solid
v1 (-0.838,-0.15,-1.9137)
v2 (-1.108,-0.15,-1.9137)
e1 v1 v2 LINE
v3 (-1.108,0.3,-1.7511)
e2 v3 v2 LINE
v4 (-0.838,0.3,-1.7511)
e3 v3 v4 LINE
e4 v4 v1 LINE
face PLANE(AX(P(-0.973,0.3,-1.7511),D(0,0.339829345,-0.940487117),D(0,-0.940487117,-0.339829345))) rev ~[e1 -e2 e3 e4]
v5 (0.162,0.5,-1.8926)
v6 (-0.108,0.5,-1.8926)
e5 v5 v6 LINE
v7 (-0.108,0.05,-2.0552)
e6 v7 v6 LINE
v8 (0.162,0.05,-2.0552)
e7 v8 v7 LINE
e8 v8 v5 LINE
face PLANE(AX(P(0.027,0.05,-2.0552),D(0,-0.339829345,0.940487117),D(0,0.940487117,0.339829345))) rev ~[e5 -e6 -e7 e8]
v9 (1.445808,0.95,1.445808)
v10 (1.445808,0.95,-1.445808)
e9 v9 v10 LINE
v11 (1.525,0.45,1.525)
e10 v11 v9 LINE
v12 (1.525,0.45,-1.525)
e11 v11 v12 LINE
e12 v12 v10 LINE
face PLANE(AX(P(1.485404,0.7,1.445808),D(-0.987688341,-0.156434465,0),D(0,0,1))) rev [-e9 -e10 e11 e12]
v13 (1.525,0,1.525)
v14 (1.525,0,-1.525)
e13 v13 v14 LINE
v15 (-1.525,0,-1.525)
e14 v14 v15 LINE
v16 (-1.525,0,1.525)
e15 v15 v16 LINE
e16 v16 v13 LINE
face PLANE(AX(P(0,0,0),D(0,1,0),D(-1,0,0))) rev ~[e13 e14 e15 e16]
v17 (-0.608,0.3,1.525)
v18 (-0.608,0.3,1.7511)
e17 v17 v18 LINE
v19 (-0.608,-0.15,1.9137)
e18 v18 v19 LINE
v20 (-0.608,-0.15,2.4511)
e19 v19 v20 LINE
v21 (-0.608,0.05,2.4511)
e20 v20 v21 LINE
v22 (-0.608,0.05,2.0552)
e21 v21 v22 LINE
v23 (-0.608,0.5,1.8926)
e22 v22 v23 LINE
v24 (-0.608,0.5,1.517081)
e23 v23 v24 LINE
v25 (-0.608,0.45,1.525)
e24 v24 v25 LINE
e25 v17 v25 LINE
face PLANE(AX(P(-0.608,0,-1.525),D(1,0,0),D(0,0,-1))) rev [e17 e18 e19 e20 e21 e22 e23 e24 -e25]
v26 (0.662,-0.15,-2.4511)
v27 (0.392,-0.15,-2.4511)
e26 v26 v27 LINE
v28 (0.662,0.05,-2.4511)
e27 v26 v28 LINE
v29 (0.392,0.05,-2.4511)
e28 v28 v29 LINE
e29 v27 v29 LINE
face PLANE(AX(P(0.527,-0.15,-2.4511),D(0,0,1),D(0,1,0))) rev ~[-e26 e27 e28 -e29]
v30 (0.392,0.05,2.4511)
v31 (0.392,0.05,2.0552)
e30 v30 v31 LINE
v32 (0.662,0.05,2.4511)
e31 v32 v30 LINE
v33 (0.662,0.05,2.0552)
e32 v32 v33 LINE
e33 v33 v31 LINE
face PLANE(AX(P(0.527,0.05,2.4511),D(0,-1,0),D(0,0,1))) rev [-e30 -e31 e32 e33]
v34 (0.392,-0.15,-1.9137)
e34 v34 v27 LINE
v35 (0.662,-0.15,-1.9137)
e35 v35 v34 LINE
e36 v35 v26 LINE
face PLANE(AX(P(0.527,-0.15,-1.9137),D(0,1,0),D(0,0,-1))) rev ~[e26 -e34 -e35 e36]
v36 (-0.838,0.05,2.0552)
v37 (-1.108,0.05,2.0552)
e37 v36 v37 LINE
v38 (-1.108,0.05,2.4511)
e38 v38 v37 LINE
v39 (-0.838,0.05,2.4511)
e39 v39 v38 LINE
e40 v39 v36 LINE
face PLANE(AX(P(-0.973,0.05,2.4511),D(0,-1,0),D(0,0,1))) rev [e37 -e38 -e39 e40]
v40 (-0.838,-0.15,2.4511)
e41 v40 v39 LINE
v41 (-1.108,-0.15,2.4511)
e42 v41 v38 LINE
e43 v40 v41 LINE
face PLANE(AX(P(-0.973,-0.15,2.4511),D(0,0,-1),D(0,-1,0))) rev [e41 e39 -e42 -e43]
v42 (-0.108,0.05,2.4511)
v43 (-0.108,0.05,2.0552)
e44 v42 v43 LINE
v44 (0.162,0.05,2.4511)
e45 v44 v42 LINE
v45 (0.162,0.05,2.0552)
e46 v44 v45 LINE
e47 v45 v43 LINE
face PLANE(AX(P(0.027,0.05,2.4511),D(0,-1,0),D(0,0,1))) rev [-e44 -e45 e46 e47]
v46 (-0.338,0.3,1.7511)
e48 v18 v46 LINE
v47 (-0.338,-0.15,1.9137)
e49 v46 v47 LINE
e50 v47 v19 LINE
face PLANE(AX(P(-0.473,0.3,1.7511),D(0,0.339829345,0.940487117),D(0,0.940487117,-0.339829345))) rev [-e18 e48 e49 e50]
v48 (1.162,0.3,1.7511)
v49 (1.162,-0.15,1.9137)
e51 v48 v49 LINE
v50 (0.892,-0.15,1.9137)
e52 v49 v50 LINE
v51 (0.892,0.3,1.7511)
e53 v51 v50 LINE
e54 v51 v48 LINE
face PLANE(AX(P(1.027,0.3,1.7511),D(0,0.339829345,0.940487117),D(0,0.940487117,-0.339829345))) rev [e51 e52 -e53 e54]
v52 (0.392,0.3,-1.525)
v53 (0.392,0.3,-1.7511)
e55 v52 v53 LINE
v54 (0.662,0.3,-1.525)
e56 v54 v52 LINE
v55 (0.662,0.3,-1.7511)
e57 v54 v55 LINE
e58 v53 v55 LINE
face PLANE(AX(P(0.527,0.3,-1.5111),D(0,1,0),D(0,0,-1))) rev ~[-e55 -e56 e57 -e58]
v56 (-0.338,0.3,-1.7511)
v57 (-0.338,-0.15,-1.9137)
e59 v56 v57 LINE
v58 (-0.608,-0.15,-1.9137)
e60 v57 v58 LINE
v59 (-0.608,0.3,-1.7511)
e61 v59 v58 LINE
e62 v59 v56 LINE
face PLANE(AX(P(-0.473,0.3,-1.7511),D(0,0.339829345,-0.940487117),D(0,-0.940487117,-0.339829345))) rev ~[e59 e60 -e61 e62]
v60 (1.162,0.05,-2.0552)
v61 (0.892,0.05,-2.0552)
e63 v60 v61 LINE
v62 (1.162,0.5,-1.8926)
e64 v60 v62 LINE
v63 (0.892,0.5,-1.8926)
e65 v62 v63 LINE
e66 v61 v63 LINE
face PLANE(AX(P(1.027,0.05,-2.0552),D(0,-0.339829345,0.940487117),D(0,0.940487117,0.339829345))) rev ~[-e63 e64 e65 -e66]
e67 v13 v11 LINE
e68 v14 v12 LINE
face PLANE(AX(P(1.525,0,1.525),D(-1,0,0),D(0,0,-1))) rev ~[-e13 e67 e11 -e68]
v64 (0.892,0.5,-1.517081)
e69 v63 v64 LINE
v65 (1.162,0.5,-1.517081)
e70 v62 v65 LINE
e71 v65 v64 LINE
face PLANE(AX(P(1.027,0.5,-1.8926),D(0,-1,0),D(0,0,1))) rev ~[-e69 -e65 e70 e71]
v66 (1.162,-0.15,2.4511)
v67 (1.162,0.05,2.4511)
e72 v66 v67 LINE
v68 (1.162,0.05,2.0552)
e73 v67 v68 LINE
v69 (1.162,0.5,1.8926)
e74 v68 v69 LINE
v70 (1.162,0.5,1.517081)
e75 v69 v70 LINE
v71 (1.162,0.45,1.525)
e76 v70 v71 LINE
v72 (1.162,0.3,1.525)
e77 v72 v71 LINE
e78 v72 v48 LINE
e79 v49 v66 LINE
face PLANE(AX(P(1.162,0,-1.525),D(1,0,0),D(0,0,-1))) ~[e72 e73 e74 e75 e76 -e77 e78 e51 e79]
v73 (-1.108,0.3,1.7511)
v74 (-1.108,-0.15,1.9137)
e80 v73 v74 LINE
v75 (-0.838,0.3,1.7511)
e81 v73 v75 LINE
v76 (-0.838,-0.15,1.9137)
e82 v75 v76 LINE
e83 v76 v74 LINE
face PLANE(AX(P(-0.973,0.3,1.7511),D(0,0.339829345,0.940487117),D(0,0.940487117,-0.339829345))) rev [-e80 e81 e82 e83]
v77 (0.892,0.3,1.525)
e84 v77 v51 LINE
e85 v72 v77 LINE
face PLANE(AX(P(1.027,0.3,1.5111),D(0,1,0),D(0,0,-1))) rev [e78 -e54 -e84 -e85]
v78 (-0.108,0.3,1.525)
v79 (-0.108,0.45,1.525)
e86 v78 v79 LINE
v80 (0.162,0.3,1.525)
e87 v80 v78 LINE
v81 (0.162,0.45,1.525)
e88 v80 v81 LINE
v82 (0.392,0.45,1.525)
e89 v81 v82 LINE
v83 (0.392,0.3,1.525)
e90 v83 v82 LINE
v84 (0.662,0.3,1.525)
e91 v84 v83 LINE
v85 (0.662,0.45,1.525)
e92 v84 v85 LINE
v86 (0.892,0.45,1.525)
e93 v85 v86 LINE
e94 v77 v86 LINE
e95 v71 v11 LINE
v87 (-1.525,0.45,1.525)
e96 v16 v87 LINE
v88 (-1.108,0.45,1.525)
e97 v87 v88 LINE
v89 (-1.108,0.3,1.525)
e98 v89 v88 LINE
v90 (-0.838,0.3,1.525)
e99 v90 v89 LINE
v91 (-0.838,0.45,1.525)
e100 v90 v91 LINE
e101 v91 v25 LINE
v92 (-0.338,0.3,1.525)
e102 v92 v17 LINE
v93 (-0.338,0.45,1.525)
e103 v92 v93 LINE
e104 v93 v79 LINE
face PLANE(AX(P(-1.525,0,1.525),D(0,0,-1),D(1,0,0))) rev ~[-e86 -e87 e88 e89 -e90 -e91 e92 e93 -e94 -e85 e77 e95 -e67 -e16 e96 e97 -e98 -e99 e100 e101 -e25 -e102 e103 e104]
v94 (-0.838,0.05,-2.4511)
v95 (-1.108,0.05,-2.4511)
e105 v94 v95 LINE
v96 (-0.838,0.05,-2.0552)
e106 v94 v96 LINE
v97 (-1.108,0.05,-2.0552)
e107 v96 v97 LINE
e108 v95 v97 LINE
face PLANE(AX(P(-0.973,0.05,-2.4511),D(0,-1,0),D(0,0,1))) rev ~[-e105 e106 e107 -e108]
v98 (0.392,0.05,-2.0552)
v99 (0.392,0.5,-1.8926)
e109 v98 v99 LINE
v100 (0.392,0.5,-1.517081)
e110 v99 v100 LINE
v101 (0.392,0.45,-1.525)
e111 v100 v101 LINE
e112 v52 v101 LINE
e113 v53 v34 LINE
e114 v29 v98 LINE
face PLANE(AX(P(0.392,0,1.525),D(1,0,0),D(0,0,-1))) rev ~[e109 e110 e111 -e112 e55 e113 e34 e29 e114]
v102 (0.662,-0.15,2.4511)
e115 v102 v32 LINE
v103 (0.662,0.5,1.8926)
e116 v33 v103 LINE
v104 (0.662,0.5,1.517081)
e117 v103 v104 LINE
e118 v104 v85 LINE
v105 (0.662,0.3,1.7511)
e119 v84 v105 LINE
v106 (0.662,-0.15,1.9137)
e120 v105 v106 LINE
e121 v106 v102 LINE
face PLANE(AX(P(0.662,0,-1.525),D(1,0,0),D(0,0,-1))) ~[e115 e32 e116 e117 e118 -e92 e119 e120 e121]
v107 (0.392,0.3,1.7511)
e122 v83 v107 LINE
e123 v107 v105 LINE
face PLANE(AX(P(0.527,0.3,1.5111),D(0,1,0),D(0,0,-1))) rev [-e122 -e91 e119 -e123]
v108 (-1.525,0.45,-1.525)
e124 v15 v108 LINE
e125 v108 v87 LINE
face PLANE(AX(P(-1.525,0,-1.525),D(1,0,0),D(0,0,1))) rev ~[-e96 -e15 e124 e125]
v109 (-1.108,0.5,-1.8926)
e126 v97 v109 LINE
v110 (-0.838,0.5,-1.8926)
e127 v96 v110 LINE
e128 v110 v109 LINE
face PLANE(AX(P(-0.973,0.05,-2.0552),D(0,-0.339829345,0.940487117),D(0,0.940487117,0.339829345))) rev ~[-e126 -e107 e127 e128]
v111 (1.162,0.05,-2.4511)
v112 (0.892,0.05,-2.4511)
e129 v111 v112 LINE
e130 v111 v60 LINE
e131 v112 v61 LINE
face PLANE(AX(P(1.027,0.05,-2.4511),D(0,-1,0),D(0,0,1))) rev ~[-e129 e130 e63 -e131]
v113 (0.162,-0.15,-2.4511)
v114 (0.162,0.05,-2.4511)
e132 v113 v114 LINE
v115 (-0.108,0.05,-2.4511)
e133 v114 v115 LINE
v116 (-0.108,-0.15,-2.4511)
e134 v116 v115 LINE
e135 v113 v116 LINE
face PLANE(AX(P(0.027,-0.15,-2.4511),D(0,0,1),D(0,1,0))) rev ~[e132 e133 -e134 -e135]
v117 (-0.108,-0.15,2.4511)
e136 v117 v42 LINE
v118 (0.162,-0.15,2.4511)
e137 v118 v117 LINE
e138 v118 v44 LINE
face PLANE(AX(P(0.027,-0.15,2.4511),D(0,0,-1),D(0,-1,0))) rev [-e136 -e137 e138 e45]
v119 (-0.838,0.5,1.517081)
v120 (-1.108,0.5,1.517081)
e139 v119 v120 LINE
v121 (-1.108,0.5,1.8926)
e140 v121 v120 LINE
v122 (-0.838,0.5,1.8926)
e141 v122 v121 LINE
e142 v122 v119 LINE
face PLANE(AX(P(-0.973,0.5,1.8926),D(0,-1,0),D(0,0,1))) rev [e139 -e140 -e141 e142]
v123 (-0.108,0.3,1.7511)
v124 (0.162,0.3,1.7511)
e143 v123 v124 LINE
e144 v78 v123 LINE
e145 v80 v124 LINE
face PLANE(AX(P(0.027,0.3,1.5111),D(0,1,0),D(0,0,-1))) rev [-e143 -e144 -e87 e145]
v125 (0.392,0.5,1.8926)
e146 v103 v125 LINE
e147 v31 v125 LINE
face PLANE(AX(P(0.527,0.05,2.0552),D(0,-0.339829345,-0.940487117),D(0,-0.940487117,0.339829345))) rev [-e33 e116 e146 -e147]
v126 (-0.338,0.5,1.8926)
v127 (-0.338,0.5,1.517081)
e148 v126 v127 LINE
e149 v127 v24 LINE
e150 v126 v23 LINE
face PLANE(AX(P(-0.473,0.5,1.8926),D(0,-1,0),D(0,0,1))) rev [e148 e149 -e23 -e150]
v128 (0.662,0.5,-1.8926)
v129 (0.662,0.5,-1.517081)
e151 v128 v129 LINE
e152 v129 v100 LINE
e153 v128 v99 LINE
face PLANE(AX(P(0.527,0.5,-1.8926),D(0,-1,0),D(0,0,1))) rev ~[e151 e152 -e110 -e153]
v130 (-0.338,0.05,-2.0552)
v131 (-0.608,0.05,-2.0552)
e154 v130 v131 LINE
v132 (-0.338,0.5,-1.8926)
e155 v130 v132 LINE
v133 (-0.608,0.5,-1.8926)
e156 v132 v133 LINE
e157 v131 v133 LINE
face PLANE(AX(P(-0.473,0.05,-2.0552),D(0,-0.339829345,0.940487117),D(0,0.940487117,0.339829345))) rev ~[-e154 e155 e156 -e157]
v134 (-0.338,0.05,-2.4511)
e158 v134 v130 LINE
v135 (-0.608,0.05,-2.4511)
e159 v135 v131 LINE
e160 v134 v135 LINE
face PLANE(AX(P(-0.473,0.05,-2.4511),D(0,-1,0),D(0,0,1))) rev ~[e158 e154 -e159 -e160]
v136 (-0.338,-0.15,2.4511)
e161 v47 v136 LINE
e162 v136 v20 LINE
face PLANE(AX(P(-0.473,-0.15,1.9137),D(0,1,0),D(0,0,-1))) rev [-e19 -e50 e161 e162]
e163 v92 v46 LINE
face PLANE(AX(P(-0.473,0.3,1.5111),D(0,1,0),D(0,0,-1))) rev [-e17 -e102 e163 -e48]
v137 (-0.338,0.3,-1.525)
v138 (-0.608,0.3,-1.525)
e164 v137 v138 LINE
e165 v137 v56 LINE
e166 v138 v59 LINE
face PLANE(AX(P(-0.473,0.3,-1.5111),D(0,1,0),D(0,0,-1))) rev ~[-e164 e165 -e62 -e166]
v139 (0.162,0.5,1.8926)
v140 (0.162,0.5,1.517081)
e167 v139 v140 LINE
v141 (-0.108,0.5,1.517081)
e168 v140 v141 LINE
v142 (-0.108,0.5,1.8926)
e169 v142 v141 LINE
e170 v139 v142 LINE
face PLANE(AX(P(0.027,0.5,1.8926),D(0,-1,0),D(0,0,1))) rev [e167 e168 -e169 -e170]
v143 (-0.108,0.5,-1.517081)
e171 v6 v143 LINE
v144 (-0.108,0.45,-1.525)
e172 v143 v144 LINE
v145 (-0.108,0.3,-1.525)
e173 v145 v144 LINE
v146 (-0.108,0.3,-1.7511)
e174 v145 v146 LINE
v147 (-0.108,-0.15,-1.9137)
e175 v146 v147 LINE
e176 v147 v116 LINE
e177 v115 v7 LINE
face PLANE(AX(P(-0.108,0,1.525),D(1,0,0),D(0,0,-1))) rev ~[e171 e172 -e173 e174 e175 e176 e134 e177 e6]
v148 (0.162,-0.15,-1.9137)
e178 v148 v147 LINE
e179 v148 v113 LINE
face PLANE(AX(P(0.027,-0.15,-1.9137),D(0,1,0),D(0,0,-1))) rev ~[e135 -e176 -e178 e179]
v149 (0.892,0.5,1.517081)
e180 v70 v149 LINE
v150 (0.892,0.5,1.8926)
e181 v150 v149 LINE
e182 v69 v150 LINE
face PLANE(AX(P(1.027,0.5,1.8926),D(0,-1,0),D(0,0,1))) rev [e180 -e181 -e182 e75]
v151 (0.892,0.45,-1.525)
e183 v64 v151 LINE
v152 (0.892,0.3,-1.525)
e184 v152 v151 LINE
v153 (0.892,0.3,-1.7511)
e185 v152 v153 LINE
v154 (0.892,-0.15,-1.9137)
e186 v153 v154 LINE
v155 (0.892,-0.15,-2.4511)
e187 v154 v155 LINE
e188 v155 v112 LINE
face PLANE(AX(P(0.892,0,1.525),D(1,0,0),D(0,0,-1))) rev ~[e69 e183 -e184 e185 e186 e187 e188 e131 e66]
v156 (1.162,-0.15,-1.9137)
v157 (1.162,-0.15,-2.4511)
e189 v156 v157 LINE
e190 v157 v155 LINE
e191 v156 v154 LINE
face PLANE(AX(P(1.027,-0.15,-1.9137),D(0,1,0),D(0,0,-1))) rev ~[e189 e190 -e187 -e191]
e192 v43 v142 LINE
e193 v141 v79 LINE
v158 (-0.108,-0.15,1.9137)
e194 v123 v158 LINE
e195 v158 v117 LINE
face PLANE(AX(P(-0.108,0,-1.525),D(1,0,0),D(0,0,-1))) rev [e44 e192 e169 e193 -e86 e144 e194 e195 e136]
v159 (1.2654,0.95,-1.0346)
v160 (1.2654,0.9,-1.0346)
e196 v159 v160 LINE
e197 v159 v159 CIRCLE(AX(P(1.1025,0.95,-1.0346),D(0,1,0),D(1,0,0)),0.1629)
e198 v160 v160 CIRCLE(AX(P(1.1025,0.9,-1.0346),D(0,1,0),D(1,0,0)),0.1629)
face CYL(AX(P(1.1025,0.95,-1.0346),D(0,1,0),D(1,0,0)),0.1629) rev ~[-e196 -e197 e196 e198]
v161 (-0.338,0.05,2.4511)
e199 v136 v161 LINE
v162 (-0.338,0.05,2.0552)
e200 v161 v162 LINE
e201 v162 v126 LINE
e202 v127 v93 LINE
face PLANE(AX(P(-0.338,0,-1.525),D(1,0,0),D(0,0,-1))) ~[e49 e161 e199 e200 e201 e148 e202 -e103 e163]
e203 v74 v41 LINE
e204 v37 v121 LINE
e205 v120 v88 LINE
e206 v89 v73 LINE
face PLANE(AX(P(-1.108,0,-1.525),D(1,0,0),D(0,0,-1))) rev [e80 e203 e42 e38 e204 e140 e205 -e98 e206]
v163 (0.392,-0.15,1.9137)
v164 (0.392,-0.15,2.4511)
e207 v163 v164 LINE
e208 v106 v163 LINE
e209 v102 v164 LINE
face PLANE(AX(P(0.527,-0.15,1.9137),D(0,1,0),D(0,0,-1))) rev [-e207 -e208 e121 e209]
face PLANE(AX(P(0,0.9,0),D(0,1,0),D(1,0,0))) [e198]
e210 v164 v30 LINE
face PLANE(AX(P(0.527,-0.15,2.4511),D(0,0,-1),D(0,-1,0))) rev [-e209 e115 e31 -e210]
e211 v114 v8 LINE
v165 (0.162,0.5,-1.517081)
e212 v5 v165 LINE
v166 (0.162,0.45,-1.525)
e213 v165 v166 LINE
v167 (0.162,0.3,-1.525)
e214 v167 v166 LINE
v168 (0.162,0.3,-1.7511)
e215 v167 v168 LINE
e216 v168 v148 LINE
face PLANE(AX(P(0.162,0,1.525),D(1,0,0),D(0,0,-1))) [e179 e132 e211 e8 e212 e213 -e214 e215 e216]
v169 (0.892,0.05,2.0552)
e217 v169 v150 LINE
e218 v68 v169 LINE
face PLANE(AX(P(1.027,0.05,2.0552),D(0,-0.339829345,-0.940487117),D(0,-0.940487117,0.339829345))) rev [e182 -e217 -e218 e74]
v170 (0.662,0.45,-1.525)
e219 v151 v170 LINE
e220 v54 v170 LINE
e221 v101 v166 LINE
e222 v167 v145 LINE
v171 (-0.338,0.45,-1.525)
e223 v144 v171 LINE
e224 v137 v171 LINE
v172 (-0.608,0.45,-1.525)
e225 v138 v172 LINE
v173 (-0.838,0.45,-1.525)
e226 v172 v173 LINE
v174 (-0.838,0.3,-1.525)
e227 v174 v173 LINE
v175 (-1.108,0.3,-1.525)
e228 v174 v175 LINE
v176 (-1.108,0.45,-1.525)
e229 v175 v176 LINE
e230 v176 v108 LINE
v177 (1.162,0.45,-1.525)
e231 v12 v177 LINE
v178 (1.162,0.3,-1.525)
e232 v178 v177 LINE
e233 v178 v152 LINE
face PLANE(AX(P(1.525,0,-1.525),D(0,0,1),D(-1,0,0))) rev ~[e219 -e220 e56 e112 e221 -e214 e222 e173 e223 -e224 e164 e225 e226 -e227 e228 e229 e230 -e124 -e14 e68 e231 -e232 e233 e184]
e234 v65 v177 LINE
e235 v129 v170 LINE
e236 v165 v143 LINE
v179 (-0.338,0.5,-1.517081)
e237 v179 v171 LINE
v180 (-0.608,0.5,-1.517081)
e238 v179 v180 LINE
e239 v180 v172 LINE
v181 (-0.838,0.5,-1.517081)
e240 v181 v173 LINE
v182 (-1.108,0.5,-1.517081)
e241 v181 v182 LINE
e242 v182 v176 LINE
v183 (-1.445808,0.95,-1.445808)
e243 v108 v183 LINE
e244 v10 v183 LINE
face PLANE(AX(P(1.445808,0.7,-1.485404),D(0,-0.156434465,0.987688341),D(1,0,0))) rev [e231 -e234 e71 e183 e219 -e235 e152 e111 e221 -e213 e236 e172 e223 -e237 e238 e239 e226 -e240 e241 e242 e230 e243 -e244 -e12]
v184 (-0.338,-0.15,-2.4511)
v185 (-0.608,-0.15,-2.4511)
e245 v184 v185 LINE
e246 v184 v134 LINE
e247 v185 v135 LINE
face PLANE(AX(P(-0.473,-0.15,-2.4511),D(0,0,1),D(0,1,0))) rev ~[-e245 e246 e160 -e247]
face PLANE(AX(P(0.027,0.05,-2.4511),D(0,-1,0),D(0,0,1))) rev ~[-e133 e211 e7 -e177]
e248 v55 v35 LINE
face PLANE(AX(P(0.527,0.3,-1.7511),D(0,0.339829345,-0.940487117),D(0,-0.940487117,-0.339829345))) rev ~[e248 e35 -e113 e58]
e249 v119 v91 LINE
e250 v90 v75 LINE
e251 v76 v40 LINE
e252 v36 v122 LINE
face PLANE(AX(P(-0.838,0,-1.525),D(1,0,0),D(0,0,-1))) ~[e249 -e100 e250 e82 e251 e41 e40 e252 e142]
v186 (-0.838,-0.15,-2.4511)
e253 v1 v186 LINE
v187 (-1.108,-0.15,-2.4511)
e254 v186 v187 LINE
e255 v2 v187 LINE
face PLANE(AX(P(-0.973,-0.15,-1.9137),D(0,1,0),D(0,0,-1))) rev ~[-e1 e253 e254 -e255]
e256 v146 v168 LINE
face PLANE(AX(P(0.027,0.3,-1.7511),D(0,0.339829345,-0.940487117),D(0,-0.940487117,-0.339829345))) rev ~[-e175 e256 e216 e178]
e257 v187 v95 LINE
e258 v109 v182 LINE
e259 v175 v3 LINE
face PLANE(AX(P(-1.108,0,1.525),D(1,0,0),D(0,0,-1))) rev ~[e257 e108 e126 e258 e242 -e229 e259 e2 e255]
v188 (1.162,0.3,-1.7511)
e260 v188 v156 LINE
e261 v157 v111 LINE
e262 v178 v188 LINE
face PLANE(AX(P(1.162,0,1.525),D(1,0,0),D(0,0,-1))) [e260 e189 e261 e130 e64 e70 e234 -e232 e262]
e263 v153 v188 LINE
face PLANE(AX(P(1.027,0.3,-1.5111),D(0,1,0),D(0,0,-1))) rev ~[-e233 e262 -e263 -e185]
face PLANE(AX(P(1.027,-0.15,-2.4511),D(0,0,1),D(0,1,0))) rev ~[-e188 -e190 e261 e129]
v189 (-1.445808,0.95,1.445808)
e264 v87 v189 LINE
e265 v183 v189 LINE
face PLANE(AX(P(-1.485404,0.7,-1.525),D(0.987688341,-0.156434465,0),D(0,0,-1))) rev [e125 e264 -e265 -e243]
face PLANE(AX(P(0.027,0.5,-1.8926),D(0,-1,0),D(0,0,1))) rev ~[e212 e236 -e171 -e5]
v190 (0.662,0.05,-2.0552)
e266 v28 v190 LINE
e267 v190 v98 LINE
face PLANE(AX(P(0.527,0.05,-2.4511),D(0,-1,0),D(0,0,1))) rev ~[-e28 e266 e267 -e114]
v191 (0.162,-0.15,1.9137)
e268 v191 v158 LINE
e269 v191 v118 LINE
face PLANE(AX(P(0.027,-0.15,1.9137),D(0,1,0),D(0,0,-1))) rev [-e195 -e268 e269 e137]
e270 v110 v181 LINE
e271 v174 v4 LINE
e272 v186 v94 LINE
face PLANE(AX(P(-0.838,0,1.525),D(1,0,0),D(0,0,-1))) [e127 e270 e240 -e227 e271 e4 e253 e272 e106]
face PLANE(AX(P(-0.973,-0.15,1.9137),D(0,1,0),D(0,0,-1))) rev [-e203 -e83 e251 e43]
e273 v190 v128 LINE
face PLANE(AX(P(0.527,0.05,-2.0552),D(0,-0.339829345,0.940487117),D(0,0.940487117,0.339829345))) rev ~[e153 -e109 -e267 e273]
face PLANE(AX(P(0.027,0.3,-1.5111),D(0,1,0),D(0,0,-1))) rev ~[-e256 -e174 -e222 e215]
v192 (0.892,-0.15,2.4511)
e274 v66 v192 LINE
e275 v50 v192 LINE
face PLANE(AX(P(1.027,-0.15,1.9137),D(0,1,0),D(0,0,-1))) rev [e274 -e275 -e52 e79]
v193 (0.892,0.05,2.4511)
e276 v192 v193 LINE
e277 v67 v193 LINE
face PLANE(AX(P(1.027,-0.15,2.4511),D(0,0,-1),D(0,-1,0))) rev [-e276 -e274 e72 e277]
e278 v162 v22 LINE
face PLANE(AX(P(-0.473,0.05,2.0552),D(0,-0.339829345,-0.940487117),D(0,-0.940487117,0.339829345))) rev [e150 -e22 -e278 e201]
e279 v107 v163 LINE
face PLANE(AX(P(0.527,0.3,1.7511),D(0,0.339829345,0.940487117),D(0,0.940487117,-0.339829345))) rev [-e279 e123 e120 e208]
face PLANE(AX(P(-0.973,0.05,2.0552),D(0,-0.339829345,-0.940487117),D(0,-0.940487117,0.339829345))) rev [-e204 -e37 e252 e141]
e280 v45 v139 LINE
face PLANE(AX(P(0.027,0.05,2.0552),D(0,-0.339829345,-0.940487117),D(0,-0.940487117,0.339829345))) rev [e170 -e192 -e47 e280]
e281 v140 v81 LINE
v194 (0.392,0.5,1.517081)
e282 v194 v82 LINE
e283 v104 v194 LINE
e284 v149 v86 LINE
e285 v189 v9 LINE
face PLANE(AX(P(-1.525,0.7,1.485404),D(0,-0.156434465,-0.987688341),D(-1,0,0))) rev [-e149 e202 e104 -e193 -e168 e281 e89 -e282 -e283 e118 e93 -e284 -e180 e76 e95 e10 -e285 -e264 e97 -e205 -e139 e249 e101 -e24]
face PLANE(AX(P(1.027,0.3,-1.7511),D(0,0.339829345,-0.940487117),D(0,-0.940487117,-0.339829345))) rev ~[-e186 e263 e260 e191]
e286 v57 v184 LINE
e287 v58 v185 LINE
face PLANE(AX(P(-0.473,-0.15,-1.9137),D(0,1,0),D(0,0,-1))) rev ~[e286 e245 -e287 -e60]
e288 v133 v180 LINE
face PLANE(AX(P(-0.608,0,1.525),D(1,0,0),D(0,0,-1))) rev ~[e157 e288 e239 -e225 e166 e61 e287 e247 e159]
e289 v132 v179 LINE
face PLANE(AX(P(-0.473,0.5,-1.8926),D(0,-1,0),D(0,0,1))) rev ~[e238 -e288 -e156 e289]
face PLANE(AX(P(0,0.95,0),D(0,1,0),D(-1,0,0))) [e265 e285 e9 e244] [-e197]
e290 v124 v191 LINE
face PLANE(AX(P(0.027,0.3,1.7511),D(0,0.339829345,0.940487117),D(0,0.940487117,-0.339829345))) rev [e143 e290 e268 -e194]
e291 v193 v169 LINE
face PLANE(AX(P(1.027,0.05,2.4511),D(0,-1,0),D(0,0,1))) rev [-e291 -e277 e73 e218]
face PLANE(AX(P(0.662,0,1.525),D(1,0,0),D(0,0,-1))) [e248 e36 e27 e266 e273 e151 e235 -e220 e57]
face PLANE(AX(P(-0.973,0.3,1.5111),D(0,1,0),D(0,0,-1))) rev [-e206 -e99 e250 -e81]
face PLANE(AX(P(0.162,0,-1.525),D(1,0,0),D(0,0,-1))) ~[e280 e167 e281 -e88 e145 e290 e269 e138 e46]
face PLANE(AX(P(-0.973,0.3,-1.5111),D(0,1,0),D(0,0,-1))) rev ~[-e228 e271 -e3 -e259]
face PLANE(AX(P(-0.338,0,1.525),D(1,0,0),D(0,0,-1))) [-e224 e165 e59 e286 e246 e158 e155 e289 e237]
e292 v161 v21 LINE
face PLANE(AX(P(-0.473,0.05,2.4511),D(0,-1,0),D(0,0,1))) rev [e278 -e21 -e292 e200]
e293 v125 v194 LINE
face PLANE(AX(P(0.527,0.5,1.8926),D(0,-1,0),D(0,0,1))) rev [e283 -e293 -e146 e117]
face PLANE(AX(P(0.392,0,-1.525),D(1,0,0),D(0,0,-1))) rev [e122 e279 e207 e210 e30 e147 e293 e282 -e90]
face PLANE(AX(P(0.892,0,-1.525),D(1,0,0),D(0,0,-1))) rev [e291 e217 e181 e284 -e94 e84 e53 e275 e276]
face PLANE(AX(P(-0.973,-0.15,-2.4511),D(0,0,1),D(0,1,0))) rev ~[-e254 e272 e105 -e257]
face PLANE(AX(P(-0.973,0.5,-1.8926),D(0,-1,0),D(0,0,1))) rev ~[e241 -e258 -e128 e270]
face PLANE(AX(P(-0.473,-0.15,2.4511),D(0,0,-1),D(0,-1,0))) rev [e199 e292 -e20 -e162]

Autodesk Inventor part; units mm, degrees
ref_plane "YZ Plane" through (0, 0, 0) normal (1, 0, 0) x (0, 1, 0)
ref_plane "XZ Plane" through (0, 0, 0) normal (0, 1, 0) x (-1, 0, 0)
sketch "Sketch1" plane through (0, 0, 0) normal (0, 1, 0) x (-1, 0, 0)
  line L0 (1.525, 1.525) -> (-1.525, 1.525)
  line L1 (-1.525, 1.525) -> (-1.525, -1.525)
  line L2 (-1.525, -1.525) -> (1.525, -1.525)
  line L3 (1.525, -1.525) -> (1.525, 1.525)
  point P0 (0, 0)
  dimension "d0" = 3.05
  dimension "d1" = 1.525
  dimension "d2" = 3.05
  dimension "d3" = 1.525
extrude "Extrusion1" add sketch "Sketch1" along normal blind 0.95
chamfer "Chamfer1" distance 0.5 angle 9 1 edges at (0, 0.95, 1.525) measured on face at (-0.5083, 0.3167, 1.525)
chamfer "Chamfer2" distance 0.5 angle 9 1 edges at (1.525, 0.95, -0.0396) measured on face at (1.525, 0.6333, -0.5347)
chamfer "Chamfer3" distance 0.5 angle 9 1 edges at (-1.525, 0.95, -0.0396) measured on face at (-1.525, 0.6333, -0.5347)
chamfer "Chamfer4" distance 0.5 angle 9 1 edges at (0, 0.95, -1.525) measured on face at (0.4819, 0.6167, -1.525)
ref_plane "Work Plane1" through (1.027, 0, 1.525) normal (1, 0, 0) x (0, 0, -1)
sketch "Sketch2" plane through (1.027, 0, 1.525) normal (1, 0, 0) x (0, 0, -1)
  line L0 (3.0361, 0.5) -> (3.0361, 0.3)
  line L1 (3.0361, 0.3) -> (3.2761, 0.3)
  line L2 (3.2761, 0.3) -> (3.4387, -0.15)
  line L3 (3.4387, -0.15) -> (3.9761, -0.15)
  line L4 (3.9761, -0.15) -> (3.9761, 0.05)
  line L5 (3.9761, 0.05) -> (3.5802, 0.05)
  line L6 (3.5802, 0.05) -> (3.4176, 0.5)
  line L7 (3.4176, 0.5) -> (3.0361, 0.5)
  line L8 (3.05, 0) -> (3.05, 0.45) projected
  line L9 (0, 0) -> (3.05, 0) projected
  point P0 (1.525, 0)
  dimension "d20" = 0.2
  dimension "d21" = 0.2
  dimension "d22" = 0.7
  dimension "d23" = 0.94
  dimension "d24" = 0.65
  dimension "d25" = 0.15
extrude "Extrusion2" add sketch "Sketch2" along normal mid plane 0.27
pattern_linear "Rectangular Pattern1" count 5 spacing 0.5 along (-1, 0, 0) of "Extrusion2"
mirror "Mirror1" about plane through (0, 0, 0) normal (0, 0, 1) of "Extrusion2", "Rectangular Pattern1"
sketch "Sketch3" plane through (0, 0.95, 0) normal (0, 1, 0) x (1, 0, 0)
  circle A0 centre (1.1025, 1.0346) radius 0.1629
  point P0 (0, 0)
extrude "Extrusion3" cut sketch "Sketch3" against normal blind 0.05
properties part number "MAX17552"
